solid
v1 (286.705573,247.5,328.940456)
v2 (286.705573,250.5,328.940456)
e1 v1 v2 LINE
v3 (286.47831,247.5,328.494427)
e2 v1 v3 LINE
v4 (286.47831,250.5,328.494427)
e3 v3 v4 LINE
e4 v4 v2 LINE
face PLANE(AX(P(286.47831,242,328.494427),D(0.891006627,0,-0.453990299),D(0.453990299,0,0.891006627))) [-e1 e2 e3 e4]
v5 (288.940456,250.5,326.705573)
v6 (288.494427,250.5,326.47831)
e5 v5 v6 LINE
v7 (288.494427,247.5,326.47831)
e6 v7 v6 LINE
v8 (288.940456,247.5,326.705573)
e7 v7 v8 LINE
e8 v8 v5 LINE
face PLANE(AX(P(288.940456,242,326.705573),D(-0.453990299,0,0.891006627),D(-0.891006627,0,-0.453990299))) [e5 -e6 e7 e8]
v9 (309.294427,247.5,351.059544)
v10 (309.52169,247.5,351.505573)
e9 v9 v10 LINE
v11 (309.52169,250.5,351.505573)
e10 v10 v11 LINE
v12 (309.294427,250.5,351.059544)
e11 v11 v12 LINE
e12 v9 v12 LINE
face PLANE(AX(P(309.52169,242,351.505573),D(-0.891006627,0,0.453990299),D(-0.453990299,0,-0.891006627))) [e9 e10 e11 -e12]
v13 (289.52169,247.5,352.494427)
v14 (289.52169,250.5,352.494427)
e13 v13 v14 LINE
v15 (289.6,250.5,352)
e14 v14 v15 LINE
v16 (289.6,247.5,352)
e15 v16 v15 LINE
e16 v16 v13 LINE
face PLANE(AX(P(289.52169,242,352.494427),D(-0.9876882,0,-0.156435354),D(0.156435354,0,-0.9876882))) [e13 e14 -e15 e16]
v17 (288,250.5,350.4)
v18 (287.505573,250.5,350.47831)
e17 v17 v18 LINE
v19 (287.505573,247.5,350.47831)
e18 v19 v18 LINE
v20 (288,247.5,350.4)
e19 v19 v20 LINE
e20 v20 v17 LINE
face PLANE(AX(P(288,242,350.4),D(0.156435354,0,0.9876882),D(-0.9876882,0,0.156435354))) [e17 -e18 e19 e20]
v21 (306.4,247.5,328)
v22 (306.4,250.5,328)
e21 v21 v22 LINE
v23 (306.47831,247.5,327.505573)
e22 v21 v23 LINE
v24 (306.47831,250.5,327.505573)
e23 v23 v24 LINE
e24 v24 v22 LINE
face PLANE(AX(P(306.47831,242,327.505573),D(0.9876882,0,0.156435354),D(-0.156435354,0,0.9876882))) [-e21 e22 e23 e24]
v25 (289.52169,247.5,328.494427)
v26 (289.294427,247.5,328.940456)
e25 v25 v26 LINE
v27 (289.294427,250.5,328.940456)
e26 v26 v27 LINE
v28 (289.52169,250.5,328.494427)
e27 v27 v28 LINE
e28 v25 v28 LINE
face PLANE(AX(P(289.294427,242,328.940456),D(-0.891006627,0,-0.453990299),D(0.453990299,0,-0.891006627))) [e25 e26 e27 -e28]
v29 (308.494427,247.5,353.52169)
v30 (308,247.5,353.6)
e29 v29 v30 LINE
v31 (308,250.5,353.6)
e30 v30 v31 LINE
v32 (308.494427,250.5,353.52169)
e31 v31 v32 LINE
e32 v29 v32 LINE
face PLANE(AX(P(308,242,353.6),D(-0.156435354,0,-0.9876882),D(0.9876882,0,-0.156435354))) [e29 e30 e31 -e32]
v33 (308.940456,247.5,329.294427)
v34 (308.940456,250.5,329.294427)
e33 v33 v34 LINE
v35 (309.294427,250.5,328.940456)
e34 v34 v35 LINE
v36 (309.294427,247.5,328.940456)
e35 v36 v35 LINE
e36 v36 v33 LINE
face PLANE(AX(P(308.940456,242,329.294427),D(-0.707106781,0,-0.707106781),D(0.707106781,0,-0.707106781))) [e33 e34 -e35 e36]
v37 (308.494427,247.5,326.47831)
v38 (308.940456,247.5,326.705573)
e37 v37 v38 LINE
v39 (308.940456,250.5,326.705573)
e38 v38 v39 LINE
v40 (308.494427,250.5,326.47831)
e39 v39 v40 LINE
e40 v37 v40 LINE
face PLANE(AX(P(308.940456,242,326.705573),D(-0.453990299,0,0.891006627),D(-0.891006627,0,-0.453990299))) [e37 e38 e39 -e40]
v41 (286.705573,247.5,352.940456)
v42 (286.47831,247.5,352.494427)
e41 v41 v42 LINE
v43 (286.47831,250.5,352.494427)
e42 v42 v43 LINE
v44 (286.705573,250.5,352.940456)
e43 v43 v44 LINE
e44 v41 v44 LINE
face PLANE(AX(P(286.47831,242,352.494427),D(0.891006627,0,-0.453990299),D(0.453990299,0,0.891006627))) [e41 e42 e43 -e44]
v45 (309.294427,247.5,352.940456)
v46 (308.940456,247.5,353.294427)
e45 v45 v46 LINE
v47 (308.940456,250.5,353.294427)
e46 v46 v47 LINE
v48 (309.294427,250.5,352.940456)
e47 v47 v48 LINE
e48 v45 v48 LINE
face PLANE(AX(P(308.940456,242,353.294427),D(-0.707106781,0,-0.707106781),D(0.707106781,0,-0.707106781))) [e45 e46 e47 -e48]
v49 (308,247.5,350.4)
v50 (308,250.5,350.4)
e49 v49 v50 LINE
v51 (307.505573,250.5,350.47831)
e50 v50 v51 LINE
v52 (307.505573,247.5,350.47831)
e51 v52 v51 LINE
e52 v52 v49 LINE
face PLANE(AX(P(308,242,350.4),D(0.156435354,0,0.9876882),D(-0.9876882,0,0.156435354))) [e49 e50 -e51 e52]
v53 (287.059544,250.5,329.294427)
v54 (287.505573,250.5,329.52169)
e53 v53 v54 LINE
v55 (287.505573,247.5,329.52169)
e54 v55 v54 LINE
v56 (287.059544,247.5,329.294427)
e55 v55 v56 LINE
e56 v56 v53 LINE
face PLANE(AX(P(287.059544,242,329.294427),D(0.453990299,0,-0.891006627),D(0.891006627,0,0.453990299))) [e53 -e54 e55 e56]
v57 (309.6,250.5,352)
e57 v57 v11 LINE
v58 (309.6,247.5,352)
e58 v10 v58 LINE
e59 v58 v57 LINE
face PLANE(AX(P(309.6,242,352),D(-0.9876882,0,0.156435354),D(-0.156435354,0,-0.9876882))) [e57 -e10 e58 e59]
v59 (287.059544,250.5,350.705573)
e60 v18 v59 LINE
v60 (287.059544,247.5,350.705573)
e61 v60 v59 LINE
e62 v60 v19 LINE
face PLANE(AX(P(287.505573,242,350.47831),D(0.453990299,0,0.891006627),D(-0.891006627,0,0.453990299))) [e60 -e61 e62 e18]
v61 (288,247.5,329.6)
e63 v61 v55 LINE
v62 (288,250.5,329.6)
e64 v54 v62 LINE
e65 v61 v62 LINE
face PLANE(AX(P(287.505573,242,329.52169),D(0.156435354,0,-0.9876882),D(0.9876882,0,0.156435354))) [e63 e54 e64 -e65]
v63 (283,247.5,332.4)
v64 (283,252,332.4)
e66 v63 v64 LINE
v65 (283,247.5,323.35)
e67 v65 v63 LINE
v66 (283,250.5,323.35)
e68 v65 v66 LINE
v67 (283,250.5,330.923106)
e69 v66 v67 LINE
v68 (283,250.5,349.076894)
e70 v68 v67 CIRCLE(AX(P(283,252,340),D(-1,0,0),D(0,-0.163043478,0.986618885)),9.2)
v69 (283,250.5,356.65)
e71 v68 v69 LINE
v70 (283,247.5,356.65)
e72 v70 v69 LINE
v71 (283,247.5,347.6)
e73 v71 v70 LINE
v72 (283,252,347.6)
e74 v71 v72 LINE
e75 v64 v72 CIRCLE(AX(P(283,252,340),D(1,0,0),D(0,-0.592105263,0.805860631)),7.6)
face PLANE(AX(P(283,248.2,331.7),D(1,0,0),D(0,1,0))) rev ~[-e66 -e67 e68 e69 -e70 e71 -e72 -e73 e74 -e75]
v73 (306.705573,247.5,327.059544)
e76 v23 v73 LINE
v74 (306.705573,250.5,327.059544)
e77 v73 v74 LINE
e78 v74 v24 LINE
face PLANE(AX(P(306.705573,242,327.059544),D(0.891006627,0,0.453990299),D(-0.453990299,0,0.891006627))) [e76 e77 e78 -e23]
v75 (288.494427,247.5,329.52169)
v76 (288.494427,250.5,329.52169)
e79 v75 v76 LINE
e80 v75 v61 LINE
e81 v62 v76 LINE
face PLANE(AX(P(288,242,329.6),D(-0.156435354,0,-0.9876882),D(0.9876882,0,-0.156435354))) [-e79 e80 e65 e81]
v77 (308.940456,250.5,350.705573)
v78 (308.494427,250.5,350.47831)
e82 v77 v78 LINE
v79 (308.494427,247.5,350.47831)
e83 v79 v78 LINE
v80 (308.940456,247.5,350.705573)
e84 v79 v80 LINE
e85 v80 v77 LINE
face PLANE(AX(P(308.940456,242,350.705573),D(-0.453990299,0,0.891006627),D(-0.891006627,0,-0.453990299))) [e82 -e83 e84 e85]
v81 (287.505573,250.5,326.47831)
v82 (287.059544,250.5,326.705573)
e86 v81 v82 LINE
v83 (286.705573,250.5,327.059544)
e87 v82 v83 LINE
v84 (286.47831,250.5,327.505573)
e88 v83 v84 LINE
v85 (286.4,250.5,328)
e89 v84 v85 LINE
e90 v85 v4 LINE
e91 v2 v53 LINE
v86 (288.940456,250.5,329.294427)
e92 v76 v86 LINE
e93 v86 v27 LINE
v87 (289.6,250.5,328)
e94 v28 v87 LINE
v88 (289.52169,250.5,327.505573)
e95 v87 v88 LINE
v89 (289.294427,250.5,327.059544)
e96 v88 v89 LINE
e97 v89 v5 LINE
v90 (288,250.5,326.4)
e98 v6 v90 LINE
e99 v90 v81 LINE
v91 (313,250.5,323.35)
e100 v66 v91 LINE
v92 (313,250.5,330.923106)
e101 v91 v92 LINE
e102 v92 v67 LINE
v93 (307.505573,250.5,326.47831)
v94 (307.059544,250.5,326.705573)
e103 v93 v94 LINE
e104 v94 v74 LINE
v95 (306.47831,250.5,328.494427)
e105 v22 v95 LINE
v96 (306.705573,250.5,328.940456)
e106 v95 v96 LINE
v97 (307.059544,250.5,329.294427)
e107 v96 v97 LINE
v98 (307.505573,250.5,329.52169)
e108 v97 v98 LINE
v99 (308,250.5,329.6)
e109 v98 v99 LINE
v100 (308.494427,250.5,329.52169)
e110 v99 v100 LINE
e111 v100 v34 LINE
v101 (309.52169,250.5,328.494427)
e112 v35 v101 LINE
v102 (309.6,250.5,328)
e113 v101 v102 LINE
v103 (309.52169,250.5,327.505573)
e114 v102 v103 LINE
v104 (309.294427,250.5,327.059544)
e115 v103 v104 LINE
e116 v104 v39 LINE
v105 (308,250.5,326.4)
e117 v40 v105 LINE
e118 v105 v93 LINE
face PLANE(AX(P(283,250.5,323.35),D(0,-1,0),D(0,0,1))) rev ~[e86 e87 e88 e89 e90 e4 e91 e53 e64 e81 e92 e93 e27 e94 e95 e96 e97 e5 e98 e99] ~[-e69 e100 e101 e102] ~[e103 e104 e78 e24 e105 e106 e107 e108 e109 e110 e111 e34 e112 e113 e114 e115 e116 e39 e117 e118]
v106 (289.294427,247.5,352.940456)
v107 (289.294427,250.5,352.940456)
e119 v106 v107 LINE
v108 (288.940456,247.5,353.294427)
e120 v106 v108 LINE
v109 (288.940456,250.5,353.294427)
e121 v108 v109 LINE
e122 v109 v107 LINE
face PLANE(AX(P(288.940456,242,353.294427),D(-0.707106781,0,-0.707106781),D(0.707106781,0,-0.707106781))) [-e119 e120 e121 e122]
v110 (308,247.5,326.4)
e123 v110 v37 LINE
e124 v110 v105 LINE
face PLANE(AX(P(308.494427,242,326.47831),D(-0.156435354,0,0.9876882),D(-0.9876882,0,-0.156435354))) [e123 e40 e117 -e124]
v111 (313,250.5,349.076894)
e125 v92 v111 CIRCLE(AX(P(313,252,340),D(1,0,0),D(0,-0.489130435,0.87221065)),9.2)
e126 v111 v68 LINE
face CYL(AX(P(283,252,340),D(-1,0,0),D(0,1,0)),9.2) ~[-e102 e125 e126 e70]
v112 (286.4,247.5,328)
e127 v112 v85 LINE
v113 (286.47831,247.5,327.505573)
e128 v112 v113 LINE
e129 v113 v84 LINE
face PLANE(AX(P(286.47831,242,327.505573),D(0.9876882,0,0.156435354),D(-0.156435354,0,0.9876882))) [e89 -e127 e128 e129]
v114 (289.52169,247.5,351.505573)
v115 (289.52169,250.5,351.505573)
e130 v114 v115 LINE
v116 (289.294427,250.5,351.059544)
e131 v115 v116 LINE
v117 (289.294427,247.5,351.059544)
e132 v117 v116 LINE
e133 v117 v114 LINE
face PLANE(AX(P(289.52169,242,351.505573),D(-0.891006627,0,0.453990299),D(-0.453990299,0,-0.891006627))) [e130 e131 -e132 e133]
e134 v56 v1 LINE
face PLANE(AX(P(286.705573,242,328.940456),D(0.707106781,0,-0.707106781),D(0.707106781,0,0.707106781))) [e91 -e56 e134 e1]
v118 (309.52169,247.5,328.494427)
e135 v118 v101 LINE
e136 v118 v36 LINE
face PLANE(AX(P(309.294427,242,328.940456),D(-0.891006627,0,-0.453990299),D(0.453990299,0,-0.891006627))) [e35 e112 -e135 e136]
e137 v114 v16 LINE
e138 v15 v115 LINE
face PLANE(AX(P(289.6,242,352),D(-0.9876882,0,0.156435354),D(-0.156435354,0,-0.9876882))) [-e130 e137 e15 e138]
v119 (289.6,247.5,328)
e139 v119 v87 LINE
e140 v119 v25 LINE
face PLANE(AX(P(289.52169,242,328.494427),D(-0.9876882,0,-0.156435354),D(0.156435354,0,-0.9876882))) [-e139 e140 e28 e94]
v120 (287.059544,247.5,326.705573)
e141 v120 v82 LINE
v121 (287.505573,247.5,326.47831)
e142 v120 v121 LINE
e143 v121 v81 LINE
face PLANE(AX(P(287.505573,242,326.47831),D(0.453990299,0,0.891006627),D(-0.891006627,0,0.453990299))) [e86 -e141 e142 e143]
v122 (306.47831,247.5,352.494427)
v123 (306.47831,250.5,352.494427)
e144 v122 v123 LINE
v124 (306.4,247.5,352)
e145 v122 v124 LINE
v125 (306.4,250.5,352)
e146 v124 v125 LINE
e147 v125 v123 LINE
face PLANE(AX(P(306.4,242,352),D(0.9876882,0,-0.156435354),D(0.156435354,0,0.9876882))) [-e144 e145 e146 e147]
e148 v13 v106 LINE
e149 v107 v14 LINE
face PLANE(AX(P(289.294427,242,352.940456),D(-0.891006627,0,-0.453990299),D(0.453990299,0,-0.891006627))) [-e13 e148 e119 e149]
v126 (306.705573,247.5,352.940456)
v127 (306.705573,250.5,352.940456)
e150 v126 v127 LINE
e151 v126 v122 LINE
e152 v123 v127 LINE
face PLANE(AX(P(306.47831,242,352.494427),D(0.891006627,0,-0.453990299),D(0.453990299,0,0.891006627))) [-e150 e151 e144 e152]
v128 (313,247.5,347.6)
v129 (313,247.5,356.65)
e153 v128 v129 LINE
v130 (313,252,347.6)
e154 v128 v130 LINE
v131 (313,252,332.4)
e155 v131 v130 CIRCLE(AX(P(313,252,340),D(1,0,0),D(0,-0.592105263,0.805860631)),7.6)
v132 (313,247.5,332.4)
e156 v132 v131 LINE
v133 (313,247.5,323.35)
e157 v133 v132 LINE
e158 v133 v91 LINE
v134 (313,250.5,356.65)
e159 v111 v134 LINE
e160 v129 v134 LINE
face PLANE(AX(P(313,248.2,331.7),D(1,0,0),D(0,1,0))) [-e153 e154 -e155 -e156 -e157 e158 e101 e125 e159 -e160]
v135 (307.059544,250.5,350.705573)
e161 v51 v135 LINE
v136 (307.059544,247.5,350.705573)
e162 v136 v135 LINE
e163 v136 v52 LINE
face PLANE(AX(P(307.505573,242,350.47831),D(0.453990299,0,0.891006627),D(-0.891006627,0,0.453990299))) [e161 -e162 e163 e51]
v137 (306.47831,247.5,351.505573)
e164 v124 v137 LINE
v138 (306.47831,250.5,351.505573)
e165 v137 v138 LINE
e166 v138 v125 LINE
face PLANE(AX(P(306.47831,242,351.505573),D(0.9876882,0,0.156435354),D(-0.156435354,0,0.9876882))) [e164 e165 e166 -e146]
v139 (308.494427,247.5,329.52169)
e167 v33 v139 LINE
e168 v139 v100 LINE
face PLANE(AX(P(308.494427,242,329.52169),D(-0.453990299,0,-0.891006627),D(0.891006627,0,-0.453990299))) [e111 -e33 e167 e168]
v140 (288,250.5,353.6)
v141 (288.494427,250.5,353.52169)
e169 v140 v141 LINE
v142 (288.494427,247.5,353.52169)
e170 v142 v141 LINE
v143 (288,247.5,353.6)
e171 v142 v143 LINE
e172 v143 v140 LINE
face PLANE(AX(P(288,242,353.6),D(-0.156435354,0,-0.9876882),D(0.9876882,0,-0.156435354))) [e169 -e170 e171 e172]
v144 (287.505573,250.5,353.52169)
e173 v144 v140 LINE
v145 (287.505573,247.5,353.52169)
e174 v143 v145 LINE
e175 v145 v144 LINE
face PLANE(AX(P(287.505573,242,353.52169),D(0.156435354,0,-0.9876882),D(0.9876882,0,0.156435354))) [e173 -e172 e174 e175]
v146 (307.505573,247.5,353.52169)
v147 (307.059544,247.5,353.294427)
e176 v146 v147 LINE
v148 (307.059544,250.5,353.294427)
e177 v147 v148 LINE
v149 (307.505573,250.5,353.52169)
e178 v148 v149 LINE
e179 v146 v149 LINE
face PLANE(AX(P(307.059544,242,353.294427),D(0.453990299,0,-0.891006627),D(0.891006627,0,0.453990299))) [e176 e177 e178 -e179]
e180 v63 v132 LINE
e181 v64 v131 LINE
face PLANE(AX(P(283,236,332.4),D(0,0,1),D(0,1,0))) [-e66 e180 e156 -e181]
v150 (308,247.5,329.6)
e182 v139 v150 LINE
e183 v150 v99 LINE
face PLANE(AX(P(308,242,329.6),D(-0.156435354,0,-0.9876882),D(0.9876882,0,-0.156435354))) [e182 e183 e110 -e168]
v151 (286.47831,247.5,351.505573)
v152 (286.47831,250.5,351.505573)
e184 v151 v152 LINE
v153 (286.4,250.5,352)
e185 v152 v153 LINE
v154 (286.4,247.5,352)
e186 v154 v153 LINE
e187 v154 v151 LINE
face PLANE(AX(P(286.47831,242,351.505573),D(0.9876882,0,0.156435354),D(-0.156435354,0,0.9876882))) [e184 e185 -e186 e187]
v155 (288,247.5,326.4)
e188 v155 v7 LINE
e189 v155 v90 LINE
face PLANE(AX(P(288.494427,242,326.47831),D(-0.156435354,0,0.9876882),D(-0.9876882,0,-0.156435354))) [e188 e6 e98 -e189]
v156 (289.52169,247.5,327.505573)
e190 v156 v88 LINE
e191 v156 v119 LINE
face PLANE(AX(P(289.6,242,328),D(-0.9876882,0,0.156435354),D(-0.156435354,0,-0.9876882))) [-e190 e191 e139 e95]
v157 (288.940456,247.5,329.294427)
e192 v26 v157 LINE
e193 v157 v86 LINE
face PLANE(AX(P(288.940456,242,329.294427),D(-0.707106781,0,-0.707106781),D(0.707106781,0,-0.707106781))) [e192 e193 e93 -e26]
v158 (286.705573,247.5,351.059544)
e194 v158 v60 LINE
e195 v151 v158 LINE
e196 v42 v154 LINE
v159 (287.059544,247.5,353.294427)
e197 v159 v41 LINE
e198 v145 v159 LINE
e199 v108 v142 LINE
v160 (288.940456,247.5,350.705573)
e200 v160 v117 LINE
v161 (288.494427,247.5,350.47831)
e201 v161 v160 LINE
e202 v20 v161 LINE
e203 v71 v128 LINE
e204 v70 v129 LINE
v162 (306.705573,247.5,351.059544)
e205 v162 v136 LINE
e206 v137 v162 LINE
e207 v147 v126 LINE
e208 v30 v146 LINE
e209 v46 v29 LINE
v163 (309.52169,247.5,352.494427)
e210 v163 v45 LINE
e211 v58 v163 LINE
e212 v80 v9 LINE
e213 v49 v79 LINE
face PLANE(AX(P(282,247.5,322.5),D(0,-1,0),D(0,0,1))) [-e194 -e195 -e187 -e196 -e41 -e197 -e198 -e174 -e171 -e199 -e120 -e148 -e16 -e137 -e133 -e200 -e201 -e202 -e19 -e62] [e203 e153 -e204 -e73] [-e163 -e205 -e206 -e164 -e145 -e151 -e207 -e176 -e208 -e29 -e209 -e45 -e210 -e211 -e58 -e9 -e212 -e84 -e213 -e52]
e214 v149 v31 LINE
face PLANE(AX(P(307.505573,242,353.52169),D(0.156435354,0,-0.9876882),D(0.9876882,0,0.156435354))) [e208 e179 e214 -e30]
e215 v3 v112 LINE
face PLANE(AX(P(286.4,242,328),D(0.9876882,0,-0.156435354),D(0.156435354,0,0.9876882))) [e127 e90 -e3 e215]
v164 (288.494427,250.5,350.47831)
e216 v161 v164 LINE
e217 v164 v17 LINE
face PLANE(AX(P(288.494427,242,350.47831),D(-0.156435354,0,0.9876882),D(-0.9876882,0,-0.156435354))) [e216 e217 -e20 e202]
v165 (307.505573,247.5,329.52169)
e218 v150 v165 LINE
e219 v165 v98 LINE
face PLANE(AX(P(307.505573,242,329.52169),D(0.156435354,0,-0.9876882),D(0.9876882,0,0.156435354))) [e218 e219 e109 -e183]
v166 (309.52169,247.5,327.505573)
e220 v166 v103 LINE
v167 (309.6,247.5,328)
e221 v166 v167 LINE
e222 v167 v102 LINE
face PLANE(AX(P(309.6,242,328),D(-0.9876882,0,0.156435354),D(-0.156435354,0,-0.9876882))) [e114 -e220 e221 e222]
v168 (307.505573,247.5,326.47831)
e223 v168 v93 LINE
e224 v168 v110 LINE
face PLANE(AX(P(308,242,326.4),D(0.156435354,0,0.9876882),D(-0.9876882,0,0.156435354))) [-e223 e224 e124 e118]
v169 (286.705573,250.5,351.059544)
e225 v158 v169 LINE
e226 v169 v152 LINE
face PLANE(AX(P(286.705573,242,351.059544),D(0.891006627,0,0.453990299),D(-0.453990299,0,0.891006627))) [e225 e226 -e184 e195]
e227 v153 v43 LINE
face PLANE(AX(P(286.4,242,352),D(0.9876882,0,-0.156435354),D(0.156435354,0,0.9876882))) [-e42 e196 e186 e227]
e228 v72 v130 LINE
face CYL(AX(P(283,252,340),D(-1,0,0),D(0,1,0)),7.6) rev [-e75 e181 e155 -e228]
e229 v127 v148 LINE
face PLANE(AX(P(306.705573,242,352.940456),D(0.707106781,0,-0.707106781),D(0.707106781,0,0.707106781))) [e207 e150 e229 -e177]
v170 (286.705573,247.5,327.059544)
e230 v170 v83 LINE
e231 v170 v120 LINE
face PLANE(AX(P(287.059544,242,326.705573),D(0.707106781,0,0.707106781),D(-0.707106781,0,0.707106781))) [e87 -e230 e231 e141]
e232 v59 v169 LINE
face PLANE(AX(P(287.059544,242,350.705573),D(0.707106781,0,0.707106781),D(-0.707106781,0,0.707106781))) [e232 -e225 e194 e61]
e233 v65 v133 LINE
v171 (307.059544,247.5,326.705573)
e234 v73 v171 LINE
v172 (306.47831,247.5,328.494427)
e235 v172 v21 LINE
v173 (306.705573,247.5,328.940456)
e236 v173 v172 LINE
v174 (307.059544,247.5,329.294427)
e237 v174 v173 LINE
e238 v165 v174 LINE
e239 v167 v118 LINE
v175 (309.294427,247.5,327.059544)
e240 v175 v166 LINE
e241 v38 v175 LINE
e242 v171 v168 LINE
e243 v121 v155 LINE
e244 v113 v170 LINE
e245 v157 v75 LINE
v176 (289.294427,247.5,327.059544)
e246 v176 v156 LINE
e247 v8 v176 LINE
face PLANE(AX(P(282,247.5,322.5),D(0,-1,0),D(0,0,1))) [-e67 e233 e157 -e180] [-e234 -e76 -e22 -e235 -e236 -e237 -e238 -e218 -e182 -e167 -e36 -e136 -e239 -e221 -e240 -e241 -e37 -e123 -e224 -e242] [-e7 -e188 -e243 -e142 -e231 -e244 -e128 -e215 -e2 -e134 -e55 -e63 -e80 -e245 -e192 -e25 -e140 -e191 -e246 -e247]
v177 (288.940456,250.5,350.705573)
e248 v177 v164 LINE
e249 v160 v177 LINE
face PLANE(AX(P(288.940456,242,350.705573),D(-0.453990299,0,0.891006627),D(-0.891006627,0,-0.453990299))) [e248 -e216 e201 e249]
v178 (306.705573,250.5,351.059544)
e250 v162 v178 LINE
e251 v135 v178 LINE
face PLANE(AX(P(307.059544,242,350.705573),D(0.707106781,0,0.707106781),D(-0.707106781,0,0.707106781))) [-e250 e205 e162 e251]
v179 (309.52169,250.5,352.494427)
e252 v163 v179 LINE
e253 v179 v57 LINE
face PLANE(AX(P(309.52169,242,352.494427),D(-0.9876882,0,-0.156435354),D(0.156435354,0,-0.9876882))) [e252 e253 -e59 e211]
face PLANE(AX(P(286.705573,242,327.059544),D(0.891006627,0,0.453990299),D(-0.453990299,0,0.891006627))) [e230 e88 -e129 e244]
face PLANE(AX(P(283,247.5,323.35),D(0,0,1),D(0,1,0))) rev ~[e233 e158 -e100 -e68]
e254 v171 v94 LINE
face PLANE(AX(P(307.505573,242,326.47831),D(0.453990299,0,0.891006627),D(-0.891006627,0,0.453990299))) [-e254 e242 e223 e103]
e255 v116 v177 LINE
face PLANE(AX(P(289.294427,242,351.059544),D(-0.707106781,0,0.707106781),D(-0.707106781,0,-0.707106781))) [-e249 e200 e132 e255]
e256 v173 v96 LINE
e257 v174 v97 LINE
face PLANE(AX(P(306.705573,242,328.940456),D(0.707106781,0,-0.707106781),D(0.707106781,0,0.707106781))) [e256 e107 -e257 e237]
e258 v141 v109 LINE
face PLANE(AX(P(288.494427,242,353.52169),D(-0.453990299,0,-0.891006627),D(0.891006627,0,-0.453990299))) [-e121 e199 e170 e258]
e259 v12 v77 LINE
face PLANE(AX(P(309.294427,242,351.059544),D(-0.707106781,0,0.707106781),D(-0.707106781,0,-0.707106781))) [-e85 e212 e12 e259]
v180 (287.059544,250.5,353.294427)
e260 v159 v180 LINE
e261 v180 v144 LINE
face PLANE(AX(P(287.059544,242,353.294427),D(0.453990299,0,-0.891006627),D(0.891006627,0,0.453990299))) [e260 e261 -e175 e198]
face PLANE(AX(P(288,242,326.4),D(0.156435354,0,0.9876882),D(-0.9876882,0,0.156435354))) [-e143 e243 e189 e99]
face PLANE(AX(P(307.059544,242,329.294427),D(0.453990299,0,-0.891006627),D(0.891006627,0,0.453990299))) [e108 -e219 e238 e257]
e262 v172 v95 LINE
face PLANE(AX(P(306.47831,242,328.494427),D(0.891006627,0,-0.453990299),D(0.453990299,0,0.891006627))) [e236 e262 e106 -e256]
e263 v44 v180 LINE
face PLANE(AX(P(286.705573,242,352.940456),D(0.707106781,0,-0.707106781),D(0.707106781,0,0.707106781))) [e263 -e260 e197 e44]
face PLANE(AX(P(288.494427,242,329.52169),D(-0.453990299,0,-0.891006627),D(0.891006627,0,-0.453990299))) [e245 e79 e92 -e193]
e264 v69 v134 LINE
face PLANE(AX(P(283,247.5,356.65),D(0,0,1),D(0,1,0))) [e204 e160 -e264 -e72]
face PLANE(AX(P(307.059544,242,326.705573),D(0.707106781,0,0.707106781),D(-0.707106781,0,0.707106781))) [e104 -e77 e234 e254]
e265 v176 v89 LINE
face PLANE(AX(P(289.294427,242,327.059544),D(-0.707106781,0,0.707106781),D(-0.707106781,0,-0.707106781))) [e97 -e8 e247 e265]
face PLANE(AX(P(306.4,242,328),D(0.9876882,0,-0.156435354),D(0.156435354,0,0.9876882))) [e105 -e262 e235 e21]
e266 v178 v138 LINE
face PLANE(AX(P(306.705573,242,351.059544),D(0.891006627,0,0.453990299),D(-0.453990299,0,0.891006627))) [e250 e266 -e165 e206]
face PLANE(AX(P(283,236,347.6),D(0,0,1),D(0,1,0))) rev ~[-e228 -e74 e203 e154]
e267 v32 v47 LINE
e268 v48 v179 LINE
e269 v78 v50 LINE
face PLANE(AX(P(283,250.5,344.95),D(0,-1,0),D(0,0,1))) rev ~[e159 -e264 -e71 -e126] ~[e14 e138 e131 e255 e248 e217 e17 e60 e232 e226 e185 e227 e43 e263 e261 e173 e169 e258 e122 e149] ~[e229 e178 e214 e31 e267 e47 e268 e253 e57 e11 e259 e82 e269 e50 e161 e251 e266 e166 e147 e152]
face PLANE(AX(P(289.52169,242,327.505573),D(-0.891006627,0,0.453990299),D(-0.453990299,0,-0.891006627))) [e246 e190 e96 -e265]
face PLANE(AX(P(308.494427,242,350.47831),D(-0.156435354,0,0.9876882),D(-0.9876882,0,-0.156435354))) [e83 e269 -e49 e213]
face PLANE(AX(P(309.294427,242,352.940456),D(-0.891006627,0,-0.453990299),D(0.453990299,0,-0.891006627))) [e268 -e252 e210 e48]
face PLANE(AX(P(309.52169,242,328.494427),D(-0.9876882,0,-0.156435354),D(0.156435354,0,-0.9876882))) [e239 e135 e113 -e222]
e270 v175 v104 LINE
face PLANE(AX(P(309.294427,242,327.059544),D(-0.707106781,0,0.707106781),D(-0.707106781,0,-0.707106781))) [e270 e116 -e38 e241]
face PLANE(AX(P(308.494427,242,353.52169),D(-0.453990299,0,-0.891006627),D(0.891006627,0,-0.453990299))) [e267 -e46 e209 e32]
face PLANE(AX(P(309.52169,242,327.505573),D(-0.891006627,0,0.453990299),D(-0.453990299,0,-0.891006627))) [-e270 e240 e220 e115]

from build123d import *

# Parameters (mm, degrees)
PRISM070_DEPTH                = 10
PRISM070_PITCH_ANGLE          = 90
PRISM071_DEPTH                = 10
PRISM071_PITCH_ANGLE          = 90
PRISM072_DEPTH                = 10
PRISM072_PITCH_ANGLE          = 90
PRISM073_DEPTH                = 10
PRISM073_PITCH_ANGLE          = 90
CUBE082_W                     = 5
CUBE082_H                     = 35
CUBE082_DEPTH                 = 32
CUBE081_W                     = 16
CUBE081_H                     = 15.2
CUBE081_DEPTH                 = 30
CUBE077_W                     = 3
CUBE077_H                     = 11.7
CUBE077_DEPTH                 = 30
CUBE078_W                     = 3
CUBE078_H                     = 11.7
CUBE078_DEPTH                 = 30
CUBE079_W                     = 1.6
CUBE079_H                     = 1.6
CUBE079_DEPTH                 = 30
CUBE080_W                     = 1.6
CUBE080_H                     = 1.6
CUBE080_DEPTH                 = 30
CYLINDER021_R                 = 7.6
CYLINDER021_DEPTH             = 30
CYLINDER020_R                 = 9.2
CYLINDER020_DEPTH             = 30
DIFFERENCE050_ROLL_ANGLE      = 90
DIFFERENCE050_PLACEMENT_ANGLE = 90


with BuildPart() as prism070:
    # prism070 → prism070 (new body)
    with BuildSketch(Plane.XY):
        Polygon((1.6, 0), (1.52169, 0.494427), (1.294427, 0.940456), (0.940456, 1.294427), (0.494427, 1.52169), (0, 1.6), (-0.494427, 1.52169), (-0.940456, 1.294427), (-1.294427, 0.940456), (-1.52169, 0.494427), (-1.6, 0), (-1.52169, -0.494427), (-1.294427, -0.940456), (-0.940456, -1.294427), (-0.494427, -1.52169), (0, -1.6), (0.494427, -1.52169), (0.940456, -1.294427), (1.294427, -0.940456), (1.52169, -0.494427), align=None)
    extrude(amount=PRISM070_DEPTH)


with BuildPart() as prism070_1:
    # prism070 pitch: moved
    add(prism070.part.rotate(Axis((0, 0, 0), (0, 1, 0)), PRISM070_PITCH_ANGLE))


with BuildPart() as prism070_2:
    # prism070 placement: moved
    add(prism070_1.part.moved(Location((-10, 12, 10))))


with BuildPart() as prism071:
    # prism071 → prism071 (new body)
    with BuildSketch(Plane.XY):
        Polygon((1.6, 0), (1.52169, 0.494427), (1.294427, 0.940456), (0.940456, 1.294427), (0.494427, 1.52169), (0, 1.6), (-0.494427, 1.52169), (-0.940456, 1.294427), (-1.294427, 0.940456), (-1.52169, 0.494427), (-1.6, 0), (-1.52169, -0.494427), (-1.294427, -0.940456), (-0.940456, -1.294427), (-0.494427, -1.52169), (0, -1.6), (0.494427, -1.52169), (0.940456, -1.294427), (1.294427, -0.940456), (1.52169, -0.494427), align=None)
    extrude(amount=PRISM071_DEPTH)


with BuildPart() as prism071_1:
    # prism071 pitch: moved
    add(prism071.part.rotate(Axis((0, 0, 0), (0, 1, 0)), PRISM071_PITCH_ANGLE))


with BuildPart() as prism071_2:
    # prism071 placement: moved
    add(prism071_1.part.moved(Location((-10, 12, -10))))


with BuildPart() as prism072:
    # prism072 → prism072 (new body)
    with BuildSketch(Plane.XY):
        Polygon((1.6, 0), (1.52169, 0.494427), (1.294427, 0.940456), (0.940456, 1.294427), (0.494427, 1.52169), (0, 1.6), (-0.494427, 1.52169), (-0.940456, 1.294427), (-1.294427, 0.940456), (-1.52169, 0.494427), (-1.6, 0), (-1.52169, -0.494427), (-1.294427, -0.940456), (-0.940456, -1.294427), (-0.494427, -1.52169), (0, -1.6), (0.494427, -1.52169), (0.940456, -1.294427), (1.294427, -0.940456), (1.52169, -0.494427), align=None)
    extrude(amount=PRISM072_DEPTH)


with BuildPart() as prism072_1:
    # prism072 pitch: moved
    add(prism072.part.rotate(Axis((0, 0, 0), (0, 1, 0)), PRISM072_PITCH_ANGLE))


with BuildPart() as prism072_2:
    # prism072 placement: moved
    add(prism072_1.part.moved(Location((-10, -12, 10))))


with BuildPart() as prism073:
    # prism073 → prism073 (new body)
    with BuildSketch(Plane.XY):
        Polygon((1.6, 0), (1.52169, 0.494427), (1.294427, 0.940456), (0.940456, 1.294427), (0.494427, 1.52169), (0, 1.6), (-0.494427, 1.52169), (-0.940456, 1.294427), (-1.294427, 0.940456), (-1.52169, 0.494427), (-1.6, 0), (-1.52169, -0.494427), (-1.294427, -0.940456), (-0.940456, -1.294427), (-0.494427, -1.52169), (0, -1.6), (0.494427, -1.52169), (0.940456, -1.294427), (1.294427, -0.940456), (1.52169, -0.494427), align=None)
    extrude(amount=PRISM073_DEPTH)


with BuildPart() as prism073_1:
    # prism073 pitch: moved
    add(prism073.part.rotate(Axis((0, 0, 0), (0, 1, 0)), PRISM073_PITCH_ANGLE))


with BuildPart() as prism073_2:
    # prism073 placement: moved
    add(prism073_1.part.moved(Location((-10, -12, -10))))


with BuildPart() as cube082:
    # cube082 → cube082 (new body)
    with BuildSketch(Plane(origin=(-9.5, -17.5, -16), x_dir=(1, 0, 0), z_dir=(0, 0, 1))):
        with Locations((2.5, 17.5)):
            Rectangle(CUBE082_W, CUBE082_H)
    extrude(amount=CUBE082_DEPTH)


with BuildPart() as union038:
    # cube081 → cube081 (new body)
    with BuildSketch(Plane(origin=(-16, -7.6, -15), x_dir=(1, 0, 0), z_dir=(0, 0, 1))):
        with Locations((8, 7.6)):
            Rectangle(CUBE081_W, CUBE081_H)
    extrude(amount=CUBE081_DEPTH)

    # union038: union prism070, prism071, prism072, prism073, cube082
    add(prism070_2.part)
    add(prism071_2.part)
    add(prism072_2.part)
    add(prism073_2.part)
    add(cube082.part)


with BuildPart() as cube077:
    # cube077 → cube077 (new body)
    with BuildSketch(Plane(origin=(-4.5, 4.95, -15), x_dir=(1, 0, 0), z_dir=(0, 0, 1))):
        with Locations((1.5, 5.85)):
            Rectangle(CUBE077_W, CUBE077_H)
    extrude(amount=CUBE077_DEPTH)


with BuildPart() as cube078:
    # cube078 → cube078 (new body)
    with BuildSketch(Plane(origin=(-4.5, -16.65, -15), x_dir=(1, 0, 0), z_dir=(0, 0, 1))):
        with Locations((1.5, 5.85)):
            Rectangle(CUBE078_W, CUBE078_H)
    extrude(amount=CUBE078_DEPTH)


with BuildPart() as cube079:
    # cube079 → cube079 (new body)
    with BuildSketch(Plane(origin=(-4.6, 7.5, -15), x_dir=(1, 0, 0), z_dir=(0, 0, 1))):
        with Locations((0.8, 0.8)):
            Rectangle(CUBE079_W, CUBE079_H)
    extrude(amount=CUBE079_DEPTH)


with BuildPart() as cube080:
    # cube080 → cube080 (new body)
    with BuildSketch(Plane(origin=(-4.6, -9.1, -15), x_dir=(1, 0, 0), z_dir=(0, 0, 1))):
        with Locations((0.8, 0.8)):
            Rectangle(CUBE080_W, CUBE080_H)
    extrude(amount=CUBE080_DEPTH)


with BuildPart() as cylinder021:
    # cylinder021 → cylinder021 (new body)
    with BuildSketch(Plane.XY.offset(-15)):
        Circle(CYLINDER021_R)
    extrude(amount=CYLINDER021_DEPTH)


with BuildPart() as difference050:
    # cylinder020 → cylinder020 (new body)
    with BuildSketch(Plane.XY.offset(-15)):
        Circle(CYLINDER020_R)
    extrude(amount=CYLINDER020_DEPTH)

    # difference049: cut cylinder021
    add(cylinder021.part, mode=Mode.SUBTRACT)

    # union037: union cube077, cube078, cube079, cube080
    add(cube077.part)
    add(cube078.part)
    add(cube079.part)
    add(cube080.part)

    # difference050: cut union038
    add(union038.part, mode=Mode.SUBTRACT)


with BuildPart() as difference050_1:
    # difference050 roll: moved
    add(difference050.part.rotate(Axis((0, 0, 0), (1, 0, 0)), DIFFERENCE050_ROLL_ANGLE))


with BuildPart() as difference050_2:
    # difference050 placement: moved
    add(difference050_1.part.moved(Location((298, 252, 340))).rotate(Axis((298, 252, 340), (0, 0, 1)), DIFFERENCE050_PLACEMENT_ANGLE))


solid = difference050_2.part
